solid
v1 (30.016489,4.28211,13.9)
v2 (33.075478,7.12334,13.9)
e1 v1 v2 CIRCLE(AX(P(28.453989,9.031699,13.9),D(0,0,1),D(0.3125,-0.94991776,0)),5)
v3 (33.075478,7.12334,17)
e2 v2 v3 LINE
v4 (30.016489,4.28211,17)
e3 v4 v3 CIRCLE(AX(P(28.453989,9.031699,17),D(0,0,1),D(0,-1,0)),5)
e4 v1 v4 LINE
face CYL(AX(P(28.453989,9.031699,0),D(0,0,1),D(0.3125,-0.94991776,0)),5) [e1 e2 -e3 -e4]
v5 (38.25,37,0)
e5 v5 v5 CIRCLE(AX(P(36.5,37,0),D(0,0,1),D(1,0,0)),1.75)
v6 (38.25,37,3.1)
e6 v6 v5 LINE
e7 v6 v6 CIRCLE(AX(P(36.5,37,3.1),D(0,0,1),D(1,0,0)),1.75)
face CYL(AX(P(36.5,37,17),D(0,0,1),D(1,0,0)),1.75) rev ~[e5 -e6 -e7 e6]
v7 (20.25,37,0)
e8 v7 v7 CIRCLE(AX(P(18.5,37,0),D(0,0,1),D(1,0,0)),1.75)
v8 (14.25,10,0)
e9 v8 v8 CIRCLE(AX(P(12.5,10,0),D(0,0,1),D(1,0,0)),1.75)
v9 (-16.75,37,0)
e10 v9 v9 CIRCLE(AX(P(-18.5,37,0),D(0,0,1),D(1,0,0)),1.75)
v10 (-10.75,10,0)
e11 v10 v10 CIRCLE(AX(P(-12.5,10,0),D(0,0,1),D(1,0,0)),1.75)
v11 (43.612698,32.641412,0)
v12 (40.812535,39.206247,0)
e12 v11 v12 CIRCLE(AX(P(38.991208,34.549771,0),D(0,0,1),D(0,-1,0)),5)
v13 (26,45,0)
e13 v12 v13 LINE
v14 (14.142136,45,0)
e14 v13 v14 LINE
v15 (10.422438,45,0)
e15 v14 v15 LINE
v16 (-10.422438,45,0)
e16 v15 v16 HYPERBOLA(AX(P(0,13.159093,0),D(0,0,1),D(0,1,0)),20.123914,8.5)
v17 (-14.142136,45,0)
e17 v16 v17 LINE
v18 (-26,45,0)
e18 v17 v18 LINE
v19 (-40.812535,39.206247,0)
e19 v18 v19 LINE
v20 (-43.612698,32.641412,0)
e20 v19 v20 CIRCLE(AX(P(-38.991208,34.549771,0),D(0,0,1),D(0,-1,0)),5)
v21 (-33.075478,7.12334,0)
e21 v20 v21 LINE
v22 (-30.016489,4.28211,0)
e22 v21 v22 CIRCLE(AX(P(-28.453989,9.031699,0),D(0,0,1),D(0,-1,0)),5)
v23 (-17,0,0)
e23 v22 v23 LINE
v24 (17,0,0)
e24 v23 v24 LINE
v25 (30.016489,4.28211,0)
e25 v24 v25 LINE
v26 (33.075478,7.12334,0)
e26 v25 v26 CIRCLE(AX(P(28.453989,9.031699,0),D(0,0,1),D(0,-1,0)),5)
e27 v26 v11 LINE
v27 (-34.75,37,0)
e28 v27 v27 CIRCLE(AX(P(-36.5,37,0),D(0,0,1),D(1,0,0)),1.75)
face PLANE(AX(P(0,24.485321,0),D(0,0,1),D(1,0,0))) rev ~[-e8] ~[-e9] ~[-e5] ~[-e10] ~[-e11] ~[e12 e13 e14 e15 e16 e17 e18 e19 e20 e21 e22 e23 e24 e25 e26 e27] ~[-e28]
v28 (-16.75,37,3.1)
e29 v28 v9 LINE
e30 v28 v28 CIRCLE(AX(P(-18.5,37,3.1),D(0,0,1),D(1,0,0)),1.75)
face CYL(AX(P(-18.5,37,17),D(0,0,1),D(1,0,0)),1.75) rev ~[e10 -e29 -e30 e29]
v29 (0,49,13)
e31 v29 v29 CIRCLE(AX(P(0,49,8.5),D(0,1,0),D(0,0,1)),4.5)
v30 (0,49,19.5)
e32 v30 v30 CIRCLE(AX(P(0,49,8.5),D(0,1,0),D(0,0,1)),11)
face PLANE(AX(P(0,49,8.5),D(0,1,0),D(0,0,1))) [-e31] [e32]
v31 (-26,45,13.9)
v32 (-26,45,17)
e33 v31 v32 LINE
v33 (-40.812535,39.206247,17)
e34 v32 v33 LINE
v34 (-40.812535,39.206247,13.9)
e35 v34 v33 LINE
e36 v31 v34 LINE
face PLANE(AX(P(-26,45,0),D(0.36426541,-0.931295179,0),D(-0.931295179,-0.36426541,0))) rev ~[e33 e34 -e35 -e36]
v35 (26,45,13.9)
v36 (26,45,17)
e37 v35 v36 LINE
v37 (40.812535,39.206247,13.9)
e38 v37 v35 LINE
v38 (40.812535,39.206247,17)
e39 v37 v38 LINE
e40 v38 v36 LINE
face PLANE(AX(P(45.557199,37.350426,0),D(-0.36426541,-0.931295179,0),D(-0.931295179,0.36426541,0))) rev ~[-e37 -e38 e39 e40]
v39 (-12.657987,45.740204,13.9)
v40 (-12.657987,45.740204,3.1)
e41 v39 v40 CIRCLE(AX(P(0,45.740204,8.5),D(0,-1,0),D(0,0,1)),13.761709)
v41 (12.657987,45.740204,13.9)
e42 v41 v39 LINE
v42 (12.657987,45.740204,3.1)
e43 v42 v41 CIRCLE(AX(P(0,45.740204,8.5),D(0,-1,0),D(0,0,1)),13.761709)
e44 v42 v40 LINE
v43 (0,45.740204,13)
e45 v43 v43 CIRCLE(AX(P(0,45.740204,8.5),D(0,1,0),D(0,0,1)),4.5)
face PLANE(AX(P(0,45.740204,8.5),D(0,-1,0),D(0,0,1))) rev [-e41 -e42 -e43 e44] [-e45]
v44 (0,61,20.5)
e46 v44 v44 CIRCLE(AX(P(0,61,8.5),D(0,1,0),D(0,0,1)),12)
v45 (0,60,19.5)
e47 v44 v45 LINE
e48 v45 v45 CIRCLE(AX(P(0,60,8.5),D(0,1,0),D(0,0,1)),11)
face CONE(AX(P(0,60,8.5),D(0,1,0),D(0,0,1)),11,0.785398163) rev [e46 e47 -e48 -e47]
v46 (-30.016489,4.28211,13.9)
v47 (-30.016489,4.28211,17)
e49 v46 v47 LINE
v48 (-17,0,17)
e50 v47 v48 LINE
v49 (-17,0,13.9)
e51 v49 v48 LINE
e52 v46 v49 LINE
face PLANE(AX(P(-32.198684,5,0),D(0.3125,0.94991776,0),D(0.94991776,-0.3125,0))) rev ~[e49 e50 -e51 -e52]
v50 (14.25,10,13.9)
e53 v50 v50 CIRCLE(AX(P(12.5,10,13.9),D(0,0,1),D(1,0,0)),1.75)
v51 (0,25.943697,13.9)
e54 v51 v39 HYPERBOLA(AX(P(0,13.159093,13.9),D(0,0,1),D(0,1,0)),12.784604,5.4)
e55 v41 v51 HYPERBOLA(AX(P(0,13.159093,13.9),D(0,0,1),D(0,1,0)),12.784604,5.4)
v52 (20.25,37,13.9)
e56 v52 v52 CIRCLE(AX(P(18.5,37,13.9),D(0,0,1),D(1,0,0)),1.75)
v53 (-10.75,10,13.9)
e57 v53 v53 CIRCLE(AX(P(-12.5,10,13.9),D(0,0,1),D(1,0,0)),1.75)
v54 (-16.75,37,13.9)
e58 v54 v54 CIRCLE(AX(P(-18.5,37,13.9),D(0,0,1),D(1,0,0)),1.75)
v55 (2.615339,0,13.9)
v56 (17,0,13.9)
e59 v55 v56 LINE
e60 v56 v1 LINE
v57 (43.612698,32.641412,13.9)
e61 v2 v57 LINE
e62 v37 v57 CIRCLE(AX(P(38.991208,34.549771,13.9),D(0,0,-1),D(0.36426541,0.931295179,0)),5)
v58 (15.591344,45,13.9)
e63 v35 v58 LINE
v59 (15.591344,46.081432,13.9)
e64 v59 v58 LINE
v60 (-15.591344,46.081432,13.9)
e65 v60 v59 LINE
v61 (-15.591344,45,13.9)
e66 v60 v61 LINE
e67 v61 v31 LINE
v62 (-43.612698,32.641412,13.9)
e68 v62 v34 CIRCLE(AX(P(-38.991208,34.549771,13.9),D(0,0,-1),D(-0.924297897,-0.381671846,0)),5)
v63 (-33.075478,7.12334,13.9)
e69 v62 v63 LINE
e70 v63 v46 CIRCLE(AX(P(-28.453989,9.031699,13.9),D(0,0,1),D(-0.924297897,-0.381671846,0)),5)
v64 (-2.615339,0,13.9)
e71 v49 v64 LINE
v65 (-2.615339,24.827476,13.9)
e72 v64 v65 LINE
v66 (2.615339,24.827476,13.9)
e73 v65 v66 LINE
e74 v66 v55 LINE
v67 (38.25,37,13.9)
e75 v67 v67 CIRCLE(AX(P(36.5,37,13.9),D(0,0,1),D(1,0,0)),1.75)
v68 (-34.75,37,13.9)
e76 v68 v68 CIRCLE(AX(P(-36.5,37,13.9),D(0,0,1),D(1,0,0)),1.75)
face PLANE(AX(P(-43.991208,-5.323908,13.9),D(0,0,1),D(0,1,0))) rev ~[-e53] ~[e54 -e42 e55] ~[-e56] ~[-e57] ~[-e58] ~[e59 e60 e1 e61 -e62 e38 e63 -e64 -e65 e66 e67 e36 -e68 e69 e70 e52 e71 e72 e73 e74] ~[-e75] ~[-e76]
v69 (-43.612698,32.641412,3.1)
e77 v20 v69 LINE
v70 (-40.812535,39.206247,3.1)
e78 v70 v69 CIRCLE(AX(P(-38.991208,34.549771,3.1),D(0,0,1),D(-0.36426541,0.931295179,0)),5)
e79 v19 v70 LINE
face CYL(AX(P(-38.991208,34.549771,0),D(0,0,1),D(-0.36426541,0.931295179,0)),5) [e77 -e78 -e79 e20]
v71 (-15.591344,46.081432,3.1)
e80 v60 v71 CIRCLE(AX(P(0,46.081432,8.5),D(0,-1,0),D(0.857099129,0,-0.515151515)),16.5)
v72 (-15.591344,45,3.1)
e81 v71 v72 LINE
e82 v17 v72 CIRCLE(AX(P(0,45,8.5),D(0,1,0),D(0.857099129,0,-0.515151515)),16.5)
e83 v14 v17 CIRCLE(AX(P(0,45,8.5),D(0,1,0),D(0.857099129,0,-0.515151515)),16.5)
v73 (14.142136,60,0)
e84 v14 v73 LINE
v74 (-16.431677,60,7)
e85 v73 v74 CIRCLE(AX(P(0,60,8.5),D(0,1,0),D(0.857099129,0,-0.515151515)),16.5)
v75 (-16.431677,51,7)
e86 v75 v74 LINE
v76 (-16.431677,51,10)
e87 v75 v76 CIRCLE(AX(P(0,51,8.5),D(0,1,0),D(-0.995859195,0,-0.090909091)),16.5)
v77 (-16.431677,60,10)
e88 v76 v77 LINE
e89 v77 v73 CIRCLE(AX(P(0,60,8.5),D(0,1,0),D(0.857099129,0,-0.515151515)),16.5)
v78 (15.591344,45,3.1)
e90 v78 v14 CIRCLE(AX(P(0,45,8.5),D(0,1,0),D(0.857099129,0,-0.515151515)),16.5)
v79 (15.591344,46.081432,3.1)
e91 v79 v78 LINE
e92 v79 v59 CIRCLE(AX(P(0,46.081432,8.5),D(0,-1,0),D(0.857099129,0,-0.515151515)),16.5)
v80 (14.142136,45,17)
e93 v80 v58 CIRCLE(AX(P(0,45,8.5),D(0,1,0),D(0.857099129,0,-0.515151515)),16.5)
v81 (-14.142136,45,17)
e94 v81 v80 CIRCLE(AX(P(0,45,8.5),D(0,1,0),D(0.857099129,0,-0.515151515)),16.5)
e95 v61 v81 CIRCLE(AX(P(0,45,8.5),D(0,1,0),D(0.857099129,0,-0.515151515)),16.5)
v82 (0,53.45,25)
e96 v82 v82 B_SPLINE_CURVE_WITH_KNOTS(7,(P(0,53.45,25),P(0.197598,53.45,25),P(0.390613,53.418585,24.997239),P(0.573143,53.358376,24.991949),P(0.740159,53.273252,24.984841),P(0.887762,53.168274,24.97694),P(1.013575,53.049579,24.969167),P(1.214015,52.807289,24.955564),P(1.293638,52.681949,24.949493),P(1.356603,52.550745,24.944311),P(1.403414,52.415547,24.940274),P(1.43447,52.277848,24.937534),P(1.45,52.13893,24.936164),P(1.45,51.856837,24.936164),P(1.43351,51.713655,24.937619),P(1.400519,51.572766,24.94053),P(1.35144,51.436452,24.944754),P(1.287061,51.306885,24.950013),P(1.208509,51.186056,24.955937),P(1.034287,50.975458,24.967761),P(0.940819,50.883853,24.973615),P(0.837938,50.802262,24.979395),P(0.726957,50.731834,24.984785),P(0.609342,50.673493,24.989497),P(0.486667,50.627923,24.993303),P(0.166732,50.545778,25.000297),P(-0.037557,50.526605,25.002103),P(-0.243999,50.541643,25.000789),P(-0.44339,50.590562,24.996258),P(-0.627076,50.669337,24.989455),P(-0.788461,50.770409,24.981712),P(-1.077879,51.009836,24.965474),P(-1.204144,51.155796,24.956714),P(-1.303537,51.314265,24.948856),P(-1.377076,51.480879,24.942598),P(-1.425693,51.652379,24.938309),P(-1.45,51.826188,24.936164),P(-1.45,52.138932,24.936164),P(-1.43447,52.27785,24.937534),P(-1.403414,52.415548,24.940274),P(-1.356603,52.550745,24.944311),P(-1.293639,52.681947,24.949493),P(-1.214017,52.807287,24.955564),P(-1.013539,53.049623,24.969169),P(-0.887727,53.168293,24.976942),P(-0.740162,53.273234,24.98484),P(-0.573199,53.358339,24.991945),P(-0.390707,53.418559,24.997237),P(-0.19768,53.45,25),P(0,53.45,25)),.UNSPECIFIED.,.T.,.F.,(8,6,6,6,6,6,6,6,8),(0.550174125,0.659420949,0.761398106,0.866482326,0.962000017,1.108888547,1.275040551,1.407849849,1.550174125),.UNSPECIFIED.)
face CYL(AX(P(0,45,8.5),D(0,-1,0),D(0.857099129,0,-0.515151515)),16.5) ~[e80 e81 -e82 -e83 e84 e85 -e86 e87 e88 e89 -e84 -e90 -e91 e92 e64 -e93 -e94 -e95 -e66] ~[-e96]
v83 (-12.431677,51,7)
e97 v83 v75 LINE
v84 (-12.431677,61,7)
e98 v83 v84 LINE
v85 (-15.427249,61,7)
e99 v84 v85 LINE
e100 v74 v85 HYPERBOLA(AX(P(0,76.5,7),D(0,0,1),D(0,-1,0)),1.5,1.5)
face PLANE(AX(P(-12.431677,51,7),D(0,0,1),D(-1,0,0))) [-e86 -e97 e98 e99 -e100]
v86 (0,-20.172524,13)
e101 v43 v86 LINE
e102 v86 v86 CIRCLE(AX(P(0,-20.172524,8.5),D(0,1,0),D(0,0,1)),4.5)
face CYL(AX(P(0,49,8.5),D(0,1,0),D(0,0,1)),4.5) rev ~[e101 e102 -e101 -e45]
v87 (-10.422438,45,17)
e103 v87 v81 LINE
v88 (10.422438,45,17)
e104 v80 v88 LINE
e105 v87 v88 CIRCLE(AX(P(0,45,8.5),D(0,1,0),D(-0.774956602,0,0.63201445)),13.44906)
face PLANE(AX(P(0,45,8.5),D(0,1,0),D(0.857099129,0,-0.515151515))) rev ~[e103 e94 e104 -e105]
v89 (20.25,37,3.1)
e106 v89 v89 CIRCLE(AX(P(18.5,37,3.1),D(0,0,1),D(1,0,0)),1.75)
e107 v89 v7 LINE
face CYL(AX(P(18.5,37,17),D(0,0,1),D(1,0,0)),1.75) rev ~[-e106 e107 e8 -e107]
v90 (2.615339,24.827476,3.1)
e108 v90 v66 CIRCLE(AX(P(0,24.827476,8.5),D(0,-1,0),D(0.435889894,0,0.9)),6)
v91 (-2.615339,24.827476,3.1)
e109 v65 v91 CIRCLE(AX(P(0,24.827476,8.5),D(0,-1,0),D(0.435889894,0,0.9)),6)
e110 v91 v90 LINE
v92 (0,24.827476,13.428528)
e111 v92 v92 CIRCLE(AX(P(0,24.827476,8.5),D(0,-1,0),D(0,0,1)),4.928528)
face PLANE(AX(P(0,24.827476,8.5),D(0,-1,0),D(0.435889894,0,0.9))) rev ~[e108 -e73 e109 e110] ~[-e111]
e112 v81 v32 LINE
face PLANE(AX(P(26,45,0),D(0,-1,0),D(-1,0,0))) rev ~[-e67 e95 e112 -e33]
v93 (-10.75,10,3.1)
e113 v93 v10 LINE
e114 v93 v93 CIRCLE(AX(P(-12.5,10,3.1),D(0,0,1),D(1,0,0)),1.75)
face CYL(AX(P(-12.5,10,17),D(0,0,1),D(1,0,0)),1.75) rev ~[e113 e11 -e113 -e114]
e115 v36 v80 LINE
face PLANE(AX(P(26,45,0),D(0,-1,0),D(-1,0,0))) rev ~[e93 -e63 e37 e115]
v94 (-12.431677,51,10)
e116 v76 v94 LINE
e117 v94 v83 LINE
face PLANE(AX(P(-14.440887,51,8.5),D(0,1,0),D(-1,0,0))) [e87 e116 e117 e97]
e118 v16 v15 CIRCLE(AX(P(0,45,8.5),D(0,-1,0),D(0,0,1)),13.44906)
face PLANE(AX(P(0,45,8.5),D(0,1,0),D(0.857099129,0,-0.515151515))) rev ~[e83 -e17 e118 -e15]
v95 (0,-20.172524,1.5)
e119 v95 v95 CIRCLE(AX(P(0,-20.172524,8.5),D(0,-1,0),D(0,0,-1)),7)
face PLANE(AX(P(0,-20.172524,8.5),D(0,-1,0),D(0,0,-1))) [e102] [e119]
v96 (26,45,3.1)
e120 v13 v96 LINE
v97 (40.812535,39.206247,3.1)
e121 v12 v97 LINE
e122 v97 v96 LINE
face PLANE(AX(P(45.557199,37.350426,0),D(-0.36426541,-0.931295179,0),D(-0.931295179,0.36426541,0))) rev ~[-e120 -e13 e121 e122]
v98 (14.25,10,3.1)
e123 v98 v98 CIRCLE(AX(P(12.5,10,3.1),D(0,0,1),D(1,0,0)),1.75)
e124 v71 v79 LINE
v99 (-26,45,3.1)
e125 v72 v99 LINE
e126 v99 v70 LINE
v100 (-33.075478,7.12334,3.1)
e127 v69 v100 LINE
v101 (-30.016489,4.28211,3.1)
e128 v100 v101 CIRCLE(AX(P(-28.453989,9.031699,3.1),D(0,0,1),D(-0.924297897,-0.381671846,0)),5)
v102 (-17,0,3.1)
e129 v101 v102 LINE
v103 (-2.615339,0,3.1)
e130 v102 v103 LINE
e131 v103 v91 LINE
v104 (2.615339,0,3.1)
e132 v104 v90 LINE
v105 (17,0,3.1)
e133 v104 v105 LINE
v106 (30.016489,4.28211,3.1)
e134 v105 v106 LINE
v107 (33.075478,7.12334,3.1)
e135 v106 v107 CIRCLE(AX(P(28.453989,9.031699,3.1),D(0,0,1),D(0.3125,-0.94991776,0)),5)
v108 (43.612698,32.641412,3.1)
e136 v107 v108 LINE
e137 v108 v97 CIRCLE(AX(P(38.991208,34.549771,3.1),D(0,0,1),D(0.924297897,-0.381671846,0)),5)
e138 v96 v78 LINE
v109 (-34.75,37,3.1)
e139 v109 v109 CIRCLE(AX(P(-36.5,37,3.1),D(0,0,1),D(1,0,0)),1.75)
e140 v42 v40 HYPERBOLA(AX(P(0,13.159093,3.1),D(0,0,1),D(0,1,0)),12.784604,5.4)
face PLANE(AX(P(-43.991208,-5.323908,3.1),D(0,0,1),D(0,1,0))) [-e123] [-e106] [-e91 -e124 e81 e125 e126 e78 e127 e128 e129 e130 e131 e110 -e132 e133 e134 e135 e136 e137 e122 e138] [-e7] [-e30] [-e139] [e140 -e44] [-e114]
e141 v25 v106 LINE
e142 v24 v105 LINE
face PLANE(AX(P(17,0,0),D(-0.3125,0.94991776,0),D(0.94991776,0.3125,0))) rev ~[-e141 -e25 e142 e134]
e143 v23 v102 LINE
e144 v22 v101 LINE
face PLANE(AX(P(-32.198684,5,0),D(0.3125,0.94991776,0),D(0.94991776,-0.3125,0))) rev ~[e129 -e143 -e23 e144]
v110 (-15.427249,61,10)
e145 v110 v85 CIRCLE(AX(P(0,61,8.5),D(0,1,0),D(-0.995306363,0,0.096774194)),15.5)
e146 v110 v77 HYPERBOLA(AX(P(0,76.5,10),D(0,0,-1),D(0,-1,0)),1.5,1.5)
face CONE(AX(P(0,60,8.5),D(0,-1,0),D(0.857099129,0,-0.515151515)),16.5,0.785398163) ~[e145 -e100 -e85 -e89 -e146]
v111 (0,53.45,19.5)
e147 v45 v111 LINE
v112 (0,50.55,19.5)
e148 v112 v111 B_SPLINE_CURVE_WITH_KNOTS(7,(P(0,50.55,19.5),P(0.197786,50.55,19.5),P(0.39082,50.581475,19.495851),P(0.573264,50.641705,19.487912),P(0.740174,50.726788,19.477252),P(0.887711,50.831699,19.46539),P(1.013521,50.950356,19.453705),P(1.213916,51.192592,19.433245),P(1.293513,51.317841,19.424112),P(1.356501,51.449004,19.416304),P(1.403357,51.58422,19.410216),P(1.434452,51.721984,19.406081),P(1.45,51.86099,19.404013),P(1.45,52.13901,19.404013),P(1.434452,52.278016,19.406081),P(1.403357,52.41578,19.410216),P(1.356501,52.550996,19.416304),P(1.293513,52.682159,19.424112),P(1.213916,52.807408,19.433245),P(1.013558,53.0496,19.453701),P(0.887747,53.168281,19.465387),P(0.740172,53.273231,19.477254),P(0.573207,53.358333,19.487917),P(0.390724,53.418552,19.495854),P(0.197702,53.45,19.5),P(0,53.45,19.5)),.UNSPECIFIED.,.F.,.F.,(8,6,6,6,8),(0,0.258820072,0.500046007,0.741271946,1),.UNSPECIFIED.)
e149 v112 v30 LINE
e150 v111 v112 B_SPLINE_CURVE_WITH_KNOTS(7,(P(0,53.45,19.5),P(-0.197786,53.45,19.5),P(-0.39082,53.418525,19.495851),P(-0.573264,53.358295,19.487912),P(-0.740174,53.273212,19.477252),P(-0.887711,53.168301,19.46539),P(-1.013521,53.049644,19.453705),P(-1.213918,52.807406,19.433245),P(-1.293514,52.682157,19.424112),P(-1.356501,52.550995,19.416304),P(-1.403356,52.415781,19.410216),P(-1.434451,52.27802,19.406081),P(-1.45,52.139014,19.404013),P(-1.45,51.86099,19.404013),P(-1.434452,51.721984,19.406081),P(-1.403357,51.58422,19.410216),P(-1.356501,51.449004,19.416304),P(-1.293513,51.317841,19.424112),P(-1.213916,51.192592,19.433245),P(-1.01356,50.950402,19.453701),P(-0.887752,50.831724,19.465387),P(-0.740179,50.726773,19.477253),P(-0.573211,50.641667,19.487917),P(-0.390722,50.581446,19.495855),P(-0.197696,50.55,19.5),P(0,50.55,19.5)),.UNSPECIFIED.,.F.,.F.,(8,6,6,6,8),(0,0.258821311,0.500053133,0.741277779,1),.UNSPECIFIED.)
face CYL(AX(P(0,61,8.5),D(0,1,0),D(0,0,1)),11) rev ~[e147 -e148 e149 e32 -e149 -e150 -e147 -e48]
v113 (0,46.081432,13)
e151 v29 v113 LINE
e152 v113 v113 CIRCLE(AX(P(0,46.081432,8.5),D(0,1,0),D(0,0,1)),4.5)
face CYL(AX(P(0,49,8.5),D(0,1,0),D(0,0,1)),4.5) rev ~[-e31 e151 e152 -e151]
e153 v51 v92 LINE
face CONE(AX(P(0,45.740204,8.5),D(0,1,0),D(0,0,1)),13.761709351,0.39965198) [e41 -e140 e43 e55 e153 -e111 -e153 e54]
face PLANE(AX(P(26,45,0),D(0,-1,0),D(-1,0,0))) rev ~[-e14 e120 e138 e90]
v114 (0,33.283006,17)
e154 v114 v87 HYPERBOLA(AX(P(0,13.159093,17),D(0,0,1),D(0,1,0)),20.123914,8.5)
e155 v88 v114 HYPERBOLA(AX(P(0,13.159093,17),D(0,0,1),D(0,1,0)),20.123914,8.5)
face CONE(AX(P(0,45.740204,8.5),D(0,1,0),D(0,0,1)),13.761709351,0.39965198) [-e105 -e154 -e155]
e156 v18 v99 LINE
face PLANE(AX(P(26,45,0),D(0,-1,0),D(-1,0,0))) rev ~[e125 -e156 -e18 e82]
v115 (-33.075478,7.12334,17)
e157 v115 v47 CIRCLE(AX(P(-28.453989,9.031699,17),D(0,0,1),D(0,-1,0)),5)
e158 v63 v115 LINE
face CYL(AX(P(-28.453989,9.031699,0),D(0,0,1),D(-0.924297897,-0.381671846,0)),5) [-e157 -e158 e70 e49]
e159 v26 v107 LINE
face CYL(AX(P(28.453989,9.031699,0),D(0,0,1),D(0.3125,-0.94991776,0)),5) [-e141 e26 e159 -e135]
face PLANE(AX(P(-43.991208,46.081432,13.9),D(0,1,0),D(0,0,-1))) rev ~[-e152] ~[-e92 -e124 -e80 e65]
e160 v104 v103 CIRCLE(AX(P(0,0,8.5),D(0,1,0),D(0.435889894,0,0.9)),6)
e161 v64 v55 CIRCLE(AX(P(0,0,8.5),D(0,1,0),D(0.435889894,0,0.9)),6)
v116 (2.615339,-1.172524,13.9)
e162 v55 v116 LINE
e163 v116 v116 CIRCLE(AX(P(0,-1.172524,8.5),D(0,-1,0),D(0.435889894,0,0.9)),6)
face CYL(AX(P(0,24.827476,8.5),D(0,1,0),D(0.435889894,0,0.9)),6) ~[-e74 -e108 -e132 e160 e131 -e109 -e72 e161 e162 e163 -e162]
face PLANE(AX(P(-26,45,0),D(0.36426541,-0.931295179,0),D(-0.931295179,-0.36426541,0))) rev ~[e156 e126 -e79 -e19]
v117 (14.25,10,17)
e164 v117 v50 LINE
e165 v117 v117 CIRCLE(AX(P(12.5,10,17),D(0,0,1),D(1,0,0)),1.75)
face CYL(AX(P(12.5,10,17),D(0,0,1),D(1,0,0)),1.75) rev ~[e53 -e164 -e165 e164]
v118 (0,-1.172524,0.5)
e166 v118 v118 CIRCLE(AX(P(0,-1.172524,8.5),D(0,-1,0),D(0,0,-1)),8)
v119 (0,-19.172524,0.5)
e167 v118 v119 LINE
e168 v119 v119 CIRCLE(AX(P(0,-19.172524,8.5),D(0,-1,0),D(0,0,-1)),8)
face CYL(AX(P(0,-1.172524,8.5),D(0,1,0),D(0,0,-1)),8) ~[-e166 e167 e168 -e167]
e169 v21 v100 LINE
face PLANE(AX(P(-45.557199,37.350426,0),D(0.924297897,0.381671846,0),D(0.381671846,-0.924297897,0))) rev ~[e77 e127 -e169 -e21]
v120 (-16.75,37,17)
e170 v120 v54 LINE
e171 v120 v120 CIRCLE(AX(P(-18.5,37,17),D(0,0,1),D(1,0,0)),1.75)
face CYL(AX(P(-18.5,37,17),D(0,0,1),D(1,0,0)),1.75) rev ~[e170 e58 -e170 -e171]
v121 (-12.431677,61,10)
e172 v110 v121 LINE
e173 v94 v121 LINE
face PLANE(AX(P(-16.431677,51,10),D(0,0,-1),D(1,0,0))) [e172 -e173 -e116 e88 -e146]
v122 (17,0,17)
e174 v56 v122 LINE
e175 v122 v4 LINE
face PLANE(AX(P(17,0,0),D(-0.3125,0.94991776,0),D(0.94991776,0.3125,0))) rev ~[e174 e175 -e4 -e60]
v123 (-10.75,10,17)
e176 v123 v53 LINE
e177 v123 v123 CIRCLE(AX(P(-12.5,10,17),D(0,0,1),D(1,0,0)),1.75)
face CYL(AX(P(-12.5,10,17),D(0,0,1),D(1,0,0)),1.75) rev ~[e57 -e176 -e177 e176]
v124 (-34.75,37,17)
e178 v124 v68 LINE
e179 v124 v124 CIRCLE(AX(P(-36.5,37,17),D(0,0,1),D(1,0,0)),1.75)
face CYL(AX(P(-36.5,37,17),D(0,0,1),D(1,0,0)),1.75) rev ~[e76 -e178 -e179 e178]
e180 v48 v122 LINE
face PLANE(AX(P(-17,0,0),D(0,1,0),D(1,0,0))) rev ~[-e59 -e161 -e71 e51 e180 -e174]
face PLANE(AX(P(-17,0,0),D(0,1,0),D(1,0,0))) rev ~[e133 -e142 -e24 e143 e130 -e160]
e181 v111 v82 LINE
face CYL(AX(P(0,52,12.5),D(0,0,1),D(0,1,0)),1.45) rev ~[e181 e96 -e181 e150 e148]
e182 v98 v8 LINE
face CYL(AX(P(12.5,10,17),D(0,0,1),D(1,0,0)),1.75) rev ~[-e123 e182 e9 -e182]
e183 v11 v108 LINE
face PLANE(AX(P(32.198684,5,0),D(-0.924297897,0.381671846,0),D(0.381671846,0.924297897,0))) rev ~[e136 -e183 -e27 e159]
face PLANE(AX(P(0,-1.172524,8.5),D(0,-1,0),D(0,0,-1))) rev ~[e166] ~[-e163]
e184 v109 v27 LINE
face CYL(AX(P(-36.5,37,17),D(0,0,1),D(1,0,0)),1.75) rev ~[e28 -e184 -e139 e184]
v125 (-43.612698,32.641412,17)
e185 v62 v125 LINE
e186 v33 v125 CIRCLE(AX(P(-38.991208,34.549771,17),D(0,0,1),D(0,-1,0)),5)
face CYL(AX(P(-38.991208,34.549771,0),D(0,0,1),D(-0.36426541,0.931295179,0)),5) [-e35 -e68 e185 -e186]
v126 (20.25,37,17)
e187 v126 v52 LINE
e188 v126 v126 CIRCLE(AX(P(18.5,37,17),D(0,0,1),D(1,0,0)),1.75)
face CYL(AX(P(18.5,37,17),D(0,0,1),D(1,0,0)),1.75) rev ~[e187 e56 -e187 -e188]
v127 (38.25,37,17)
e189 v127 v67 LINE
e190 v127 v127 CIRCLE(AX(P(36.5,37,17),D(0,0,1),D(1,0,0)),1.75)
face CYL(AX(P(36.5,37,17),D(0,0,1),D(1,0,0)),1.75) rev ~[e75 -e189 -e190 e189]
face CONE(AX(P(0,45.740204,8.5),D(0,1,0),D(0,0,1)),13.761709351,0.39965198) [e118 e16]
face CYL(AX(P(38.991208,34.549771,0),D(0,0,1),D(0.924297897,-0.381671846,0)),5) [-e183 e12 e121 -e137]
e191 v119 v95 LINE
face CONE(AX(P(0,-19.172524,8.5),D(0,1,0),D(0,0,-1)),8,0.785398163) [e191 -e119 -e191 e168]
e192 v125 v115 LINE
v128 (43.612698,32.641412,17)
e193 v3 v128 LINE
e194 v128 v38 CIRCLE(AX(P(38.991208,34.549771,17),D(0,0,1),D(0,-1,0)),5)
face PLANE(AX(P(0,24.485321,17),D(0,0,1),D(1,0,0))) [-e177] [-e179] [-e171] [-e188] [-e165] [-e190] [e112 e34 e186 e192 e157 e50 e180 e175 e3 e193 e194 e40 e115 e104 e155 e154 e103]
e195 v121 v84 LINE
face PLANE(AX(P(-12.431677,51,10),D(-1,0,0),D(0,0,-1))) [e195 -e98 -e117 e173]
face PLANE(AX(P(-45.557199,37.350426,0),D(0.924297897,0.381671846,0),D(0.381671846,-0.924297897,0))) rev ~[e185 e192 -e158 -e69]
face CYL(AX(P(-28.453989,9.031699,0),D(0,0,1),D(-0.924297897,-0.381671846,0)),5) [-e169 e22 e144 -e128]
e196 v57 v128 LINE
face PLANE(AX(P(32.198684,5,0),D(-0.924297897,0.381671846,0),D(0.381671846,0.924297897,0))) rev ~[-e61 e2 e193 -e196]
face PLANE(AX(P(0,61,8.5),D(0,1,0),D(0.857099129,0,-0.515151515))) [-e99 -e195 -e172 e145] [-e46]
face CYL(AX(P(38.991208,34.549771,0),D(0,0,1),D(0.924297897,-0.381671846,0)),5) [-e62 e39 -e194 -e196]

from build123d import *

# Parameters (mm, degrees)
BASE_EXTRUSION_DEPTH    = 17
CONG_1_R                = 5
CONG_2_R                = 5
CONG_3_R                = 5
CONG_4_R                = 5
ESQUISSE5_R             = 16.5
BOSS_EXTRU_1_DEPTH      = 16
ENL_V_START             = -43.991208
ESQUISSE9_W             = 10.8
ESQUISSE9_H             = 51.405339809
ENL_V_MAT_EXTRU_2_DEPTH = 87.982416
ESQUISSE15_R            = 6
BOSS_EXTRU_2_DEPTH      = 26
ESQUISSE16_R            = 8
BOSS_EXTRU_3_DEPTH      = 19
CHANFREIN1_SIZE         = 1
ESQUISSE17_R            = 1.75
ENL_V_MAT_EXTRU_3_DEPTH = 80.254188527
ESQUISSE18_R            = 11
ENL_V_MAT_EXTRU_4_DEPTH = 12
ESQUISSE19_R            = 4.5
ENL_V_MAT_EXTRU_5_DEPTH = 82
CHANFREIN2_SIZE         = 1
CHANFREIN3_SIZE         = 1
ESQUISSE23_W            = 1.45
ESQUISSE23_H            = 25
EXTRUSION1_START        = -10
EXTRUSION1_DEPTH        = 10


with BuildPart() as part:
    # Esquisse1 → Base-Extrusion (new body)
    with BuildSketch(Plane.XY):
        Polygon((-17, 0), (17, 0), (32.198684154, 5), (45.557198765, 37.350426386), (26, 45), (-26, 45), (-45.557198765, 37.350426386), (-32.198684154, 5), align=None)
    extrude(amount=BASE_EXTRUSION_DEPTH)

    # Congé1
    cong_1_edges = [part.edges().sort_by_distance(p)[0] for p in [
        (45.557198765, 37.350426386, 8.5),
    ]]
    fillet(cong_1_edges, radius=CONG_1_R)

    # Congé2
    cong_2_edges = [part.edges().sort_by_distance(p)[0] for p in [
        (-45.557198765, 37.350426386, 8.5),
    ]]
    fillet(cong_2_edges, radius=CONG_2_R)

    # Congé3
    cong_3_edges = [part.edges().sort_by_distance(p)[0] for p in [
        (-32.198684154, 5, 8.5),
    ]]
    fillet(cong_3_edges, radius=CONG_3_R)

    # Congé4
    cong_4_edges = [part.edges().sort_by_distance(p)[0] for p in [
        (32.198684154, 5, 8.5),
    ]]
    fillet(cong_4_edges, radius=CONG_4_R)

    # Esquisse5 → Boss.-Extru.1 (add)
    with BuildSketch(Plane(origin=(0, 45, 0), x_dir=(-1, 0, 0), z_dir=(0, 1, 0))):
        with Locations(Location((0, 8.5, 0), (0, 0, 211.007583007))):
            Circle(ESQUISSE5_R)
    extrude(amount=BOSS_EXTRU_1_DEPTH)

    # Esquisse9 → Enlèv. mat.-Extru.2 (cut)
    with BuildSketch(Plane(origin=(0, 0, 0), x_dir=(0, 0, -1), z_dir=(1, 0, 0)).offset(ENL_V_START)):
        with Locations((-8.5, 20.378761833)):
            Rectangle(ESQUISSE9_W, ESQUISSE9_H)
    extrude(amount=ENL_V_MAT_EXTRU_2_DEPTH, mode=Mode.SUBTRACT)

    # Esquisse14 → Boss.-Révol.1 (revolve)
    with BuildSketch(Plane(origin=(0, 0, 0), x_dir=(0, 0, -1), z_dir=(1, 0, 0))):
        Polygon((-8.5, 45.740204338), (-22.261709351, 45.740204338), (-13.428527568, 24.827476443), (-8.5, 24.827476443), align=None)
    revolve(axis=Axis((0, 54.838113355, 8.5), (0, -1, 0)))

    # Esquisse15 → Boss.-Extru.2 (add)
    with BuildSketch(Plane.XZ.offset(-24.827476443)):
        with Locations(Location((0, 8.5, 0), (0, 0, 64.158067237))):
            Circle(ESQUISSE15_R)
    extrude(amount=BOSS_EXTRU_2_DEPTH)

    # Esquisse16 → Boss.-Extru.3 (add)
    with BuildSketch(Plane.XZ.offset(1.172523557)):
        with Locations(Location((0, 8.5, 0), (0, 0, 270))):
            Circle(ESQUISSE16_R)
    extrude(amount=BOSS_EXTRU_3_DEPTH)

    # Chanfrein1
    chanfrein1_edges = [part.edges().sort_by_distance(p)[0] for p in [
        (0, -20.172523557, 16.5),
    ]]
    chamfer(chanfrein1_edges, length=CHANFREIN1_SIZE)

    # Esquisse17 → Enlèv. mat.-Extru.3 (cut, through all)
    with BuildSketch(Plane.XY.offset(17)):
        with Locations((-36.5, 37)):
            Circle(ESQUISSE17_R)
        with Locations((-18.5, 37)):
            Circle(ESQUISSE17_R)
        with Locations((-12.5, 10)):
            Circle(ESQUISSE17_R)
        with Locations((12.5, 10)):
            Circle(ESQUISSE17_R)
        with Locations((18.5, 37)):
            Circle(ESQUISSE17_R)
        with Locations((36.5, 37)):
            Circle(ESQUISSE17_R)
    extrude(amount=-ENL_V_MAT_EXTRU_3_DEPTH, mode=Mode.SUBTRACT)

    # Esquisse18 → Enlèv. mat.-Extru.4 (cut)
    with BuildSketch(Plane(origin=(0, 61, 0), x_dir=(-1, 0, 0), z_dir=(0, 1, 0))):
        with Locations(Location((0, 8.5, 0), (0, 0, 90))):
            Circle(ESQUISSE18_R)
    extrude(amount=-ENL_V_MAT_EXTRU_4_DEPTH, mode=Mode.SUBTRACT)

    # Esquisse19 → Enlèv. mat.-Extru.5 (cut)
    with BuildSketch(Plane(origin=(0, 49, 0), x_dir=(-1, 0, 0), z_dir=(0, 1, 0))):
        with Locations(Location((0, 8.5, 0), (0, 0, 90))):
            Circle(ESQUISSE19_R)
    extrude(amount=-ENL_V_MAT_EXTRU_5_DEPTH, mode=Mode.SUBTRACT)

    # Chanfrein2
    chanfrein2_edges = [part.edges().sort_by_distance(p)[0] for p in [
        (0, 61, -2.5),
    ]]
    chamfer(chanfrein2_edges, length=CHANFREIN2_SIZE)

    # Chanfrein3
    chanfrein3_edges = [part.edges().sort_by_distance(p)[0] for p in [
        (-14.142135624, 61, 17),
    ]]
    chamfer(chanfrein3_edges, length=CHANFREIN3_SIZE)

    # Esquisse23 → Trou taraudé M3.5x0.61 (revolve, cut)
    with BuildSketch(Plane(origin=(0, 52, 0), x_dir=(0, 1, 0), z_dir=(1, 0, 0))):
        with Locations((0.725, 12.5)):
            Rectangle(ESQUISSE23_W, ESQUISSE23_H)
    revolve(axis=Axis((0, 52, -6.35), (0, 0, 1)), mode=Mode.SUBTRACT)

    # Esquisse24 → Extrusion1 (cut)
    with BuildSketch(Plane(origin=(0, 61, 0), x_dir=(-1, 0, 0), z_dir=(0, 1, 0)).offset(EXTRUSION1_START)):
        with BuildLine():
            Line((16.431676725, 10), (12.431676725, 10))
            Line((12.431676725, 10), (12.431676725, 7))
            Line((12.431676725, 7), (16.431676725, 7))
            ThreePointArc((16.431676725, 7), (16.5, 8.5), (16.431676725, 10))
        make_face()
    extrude(amount=EXTRUSION1_DEPTH, mode=Mode.SUBTRACT)


solid = part.part
